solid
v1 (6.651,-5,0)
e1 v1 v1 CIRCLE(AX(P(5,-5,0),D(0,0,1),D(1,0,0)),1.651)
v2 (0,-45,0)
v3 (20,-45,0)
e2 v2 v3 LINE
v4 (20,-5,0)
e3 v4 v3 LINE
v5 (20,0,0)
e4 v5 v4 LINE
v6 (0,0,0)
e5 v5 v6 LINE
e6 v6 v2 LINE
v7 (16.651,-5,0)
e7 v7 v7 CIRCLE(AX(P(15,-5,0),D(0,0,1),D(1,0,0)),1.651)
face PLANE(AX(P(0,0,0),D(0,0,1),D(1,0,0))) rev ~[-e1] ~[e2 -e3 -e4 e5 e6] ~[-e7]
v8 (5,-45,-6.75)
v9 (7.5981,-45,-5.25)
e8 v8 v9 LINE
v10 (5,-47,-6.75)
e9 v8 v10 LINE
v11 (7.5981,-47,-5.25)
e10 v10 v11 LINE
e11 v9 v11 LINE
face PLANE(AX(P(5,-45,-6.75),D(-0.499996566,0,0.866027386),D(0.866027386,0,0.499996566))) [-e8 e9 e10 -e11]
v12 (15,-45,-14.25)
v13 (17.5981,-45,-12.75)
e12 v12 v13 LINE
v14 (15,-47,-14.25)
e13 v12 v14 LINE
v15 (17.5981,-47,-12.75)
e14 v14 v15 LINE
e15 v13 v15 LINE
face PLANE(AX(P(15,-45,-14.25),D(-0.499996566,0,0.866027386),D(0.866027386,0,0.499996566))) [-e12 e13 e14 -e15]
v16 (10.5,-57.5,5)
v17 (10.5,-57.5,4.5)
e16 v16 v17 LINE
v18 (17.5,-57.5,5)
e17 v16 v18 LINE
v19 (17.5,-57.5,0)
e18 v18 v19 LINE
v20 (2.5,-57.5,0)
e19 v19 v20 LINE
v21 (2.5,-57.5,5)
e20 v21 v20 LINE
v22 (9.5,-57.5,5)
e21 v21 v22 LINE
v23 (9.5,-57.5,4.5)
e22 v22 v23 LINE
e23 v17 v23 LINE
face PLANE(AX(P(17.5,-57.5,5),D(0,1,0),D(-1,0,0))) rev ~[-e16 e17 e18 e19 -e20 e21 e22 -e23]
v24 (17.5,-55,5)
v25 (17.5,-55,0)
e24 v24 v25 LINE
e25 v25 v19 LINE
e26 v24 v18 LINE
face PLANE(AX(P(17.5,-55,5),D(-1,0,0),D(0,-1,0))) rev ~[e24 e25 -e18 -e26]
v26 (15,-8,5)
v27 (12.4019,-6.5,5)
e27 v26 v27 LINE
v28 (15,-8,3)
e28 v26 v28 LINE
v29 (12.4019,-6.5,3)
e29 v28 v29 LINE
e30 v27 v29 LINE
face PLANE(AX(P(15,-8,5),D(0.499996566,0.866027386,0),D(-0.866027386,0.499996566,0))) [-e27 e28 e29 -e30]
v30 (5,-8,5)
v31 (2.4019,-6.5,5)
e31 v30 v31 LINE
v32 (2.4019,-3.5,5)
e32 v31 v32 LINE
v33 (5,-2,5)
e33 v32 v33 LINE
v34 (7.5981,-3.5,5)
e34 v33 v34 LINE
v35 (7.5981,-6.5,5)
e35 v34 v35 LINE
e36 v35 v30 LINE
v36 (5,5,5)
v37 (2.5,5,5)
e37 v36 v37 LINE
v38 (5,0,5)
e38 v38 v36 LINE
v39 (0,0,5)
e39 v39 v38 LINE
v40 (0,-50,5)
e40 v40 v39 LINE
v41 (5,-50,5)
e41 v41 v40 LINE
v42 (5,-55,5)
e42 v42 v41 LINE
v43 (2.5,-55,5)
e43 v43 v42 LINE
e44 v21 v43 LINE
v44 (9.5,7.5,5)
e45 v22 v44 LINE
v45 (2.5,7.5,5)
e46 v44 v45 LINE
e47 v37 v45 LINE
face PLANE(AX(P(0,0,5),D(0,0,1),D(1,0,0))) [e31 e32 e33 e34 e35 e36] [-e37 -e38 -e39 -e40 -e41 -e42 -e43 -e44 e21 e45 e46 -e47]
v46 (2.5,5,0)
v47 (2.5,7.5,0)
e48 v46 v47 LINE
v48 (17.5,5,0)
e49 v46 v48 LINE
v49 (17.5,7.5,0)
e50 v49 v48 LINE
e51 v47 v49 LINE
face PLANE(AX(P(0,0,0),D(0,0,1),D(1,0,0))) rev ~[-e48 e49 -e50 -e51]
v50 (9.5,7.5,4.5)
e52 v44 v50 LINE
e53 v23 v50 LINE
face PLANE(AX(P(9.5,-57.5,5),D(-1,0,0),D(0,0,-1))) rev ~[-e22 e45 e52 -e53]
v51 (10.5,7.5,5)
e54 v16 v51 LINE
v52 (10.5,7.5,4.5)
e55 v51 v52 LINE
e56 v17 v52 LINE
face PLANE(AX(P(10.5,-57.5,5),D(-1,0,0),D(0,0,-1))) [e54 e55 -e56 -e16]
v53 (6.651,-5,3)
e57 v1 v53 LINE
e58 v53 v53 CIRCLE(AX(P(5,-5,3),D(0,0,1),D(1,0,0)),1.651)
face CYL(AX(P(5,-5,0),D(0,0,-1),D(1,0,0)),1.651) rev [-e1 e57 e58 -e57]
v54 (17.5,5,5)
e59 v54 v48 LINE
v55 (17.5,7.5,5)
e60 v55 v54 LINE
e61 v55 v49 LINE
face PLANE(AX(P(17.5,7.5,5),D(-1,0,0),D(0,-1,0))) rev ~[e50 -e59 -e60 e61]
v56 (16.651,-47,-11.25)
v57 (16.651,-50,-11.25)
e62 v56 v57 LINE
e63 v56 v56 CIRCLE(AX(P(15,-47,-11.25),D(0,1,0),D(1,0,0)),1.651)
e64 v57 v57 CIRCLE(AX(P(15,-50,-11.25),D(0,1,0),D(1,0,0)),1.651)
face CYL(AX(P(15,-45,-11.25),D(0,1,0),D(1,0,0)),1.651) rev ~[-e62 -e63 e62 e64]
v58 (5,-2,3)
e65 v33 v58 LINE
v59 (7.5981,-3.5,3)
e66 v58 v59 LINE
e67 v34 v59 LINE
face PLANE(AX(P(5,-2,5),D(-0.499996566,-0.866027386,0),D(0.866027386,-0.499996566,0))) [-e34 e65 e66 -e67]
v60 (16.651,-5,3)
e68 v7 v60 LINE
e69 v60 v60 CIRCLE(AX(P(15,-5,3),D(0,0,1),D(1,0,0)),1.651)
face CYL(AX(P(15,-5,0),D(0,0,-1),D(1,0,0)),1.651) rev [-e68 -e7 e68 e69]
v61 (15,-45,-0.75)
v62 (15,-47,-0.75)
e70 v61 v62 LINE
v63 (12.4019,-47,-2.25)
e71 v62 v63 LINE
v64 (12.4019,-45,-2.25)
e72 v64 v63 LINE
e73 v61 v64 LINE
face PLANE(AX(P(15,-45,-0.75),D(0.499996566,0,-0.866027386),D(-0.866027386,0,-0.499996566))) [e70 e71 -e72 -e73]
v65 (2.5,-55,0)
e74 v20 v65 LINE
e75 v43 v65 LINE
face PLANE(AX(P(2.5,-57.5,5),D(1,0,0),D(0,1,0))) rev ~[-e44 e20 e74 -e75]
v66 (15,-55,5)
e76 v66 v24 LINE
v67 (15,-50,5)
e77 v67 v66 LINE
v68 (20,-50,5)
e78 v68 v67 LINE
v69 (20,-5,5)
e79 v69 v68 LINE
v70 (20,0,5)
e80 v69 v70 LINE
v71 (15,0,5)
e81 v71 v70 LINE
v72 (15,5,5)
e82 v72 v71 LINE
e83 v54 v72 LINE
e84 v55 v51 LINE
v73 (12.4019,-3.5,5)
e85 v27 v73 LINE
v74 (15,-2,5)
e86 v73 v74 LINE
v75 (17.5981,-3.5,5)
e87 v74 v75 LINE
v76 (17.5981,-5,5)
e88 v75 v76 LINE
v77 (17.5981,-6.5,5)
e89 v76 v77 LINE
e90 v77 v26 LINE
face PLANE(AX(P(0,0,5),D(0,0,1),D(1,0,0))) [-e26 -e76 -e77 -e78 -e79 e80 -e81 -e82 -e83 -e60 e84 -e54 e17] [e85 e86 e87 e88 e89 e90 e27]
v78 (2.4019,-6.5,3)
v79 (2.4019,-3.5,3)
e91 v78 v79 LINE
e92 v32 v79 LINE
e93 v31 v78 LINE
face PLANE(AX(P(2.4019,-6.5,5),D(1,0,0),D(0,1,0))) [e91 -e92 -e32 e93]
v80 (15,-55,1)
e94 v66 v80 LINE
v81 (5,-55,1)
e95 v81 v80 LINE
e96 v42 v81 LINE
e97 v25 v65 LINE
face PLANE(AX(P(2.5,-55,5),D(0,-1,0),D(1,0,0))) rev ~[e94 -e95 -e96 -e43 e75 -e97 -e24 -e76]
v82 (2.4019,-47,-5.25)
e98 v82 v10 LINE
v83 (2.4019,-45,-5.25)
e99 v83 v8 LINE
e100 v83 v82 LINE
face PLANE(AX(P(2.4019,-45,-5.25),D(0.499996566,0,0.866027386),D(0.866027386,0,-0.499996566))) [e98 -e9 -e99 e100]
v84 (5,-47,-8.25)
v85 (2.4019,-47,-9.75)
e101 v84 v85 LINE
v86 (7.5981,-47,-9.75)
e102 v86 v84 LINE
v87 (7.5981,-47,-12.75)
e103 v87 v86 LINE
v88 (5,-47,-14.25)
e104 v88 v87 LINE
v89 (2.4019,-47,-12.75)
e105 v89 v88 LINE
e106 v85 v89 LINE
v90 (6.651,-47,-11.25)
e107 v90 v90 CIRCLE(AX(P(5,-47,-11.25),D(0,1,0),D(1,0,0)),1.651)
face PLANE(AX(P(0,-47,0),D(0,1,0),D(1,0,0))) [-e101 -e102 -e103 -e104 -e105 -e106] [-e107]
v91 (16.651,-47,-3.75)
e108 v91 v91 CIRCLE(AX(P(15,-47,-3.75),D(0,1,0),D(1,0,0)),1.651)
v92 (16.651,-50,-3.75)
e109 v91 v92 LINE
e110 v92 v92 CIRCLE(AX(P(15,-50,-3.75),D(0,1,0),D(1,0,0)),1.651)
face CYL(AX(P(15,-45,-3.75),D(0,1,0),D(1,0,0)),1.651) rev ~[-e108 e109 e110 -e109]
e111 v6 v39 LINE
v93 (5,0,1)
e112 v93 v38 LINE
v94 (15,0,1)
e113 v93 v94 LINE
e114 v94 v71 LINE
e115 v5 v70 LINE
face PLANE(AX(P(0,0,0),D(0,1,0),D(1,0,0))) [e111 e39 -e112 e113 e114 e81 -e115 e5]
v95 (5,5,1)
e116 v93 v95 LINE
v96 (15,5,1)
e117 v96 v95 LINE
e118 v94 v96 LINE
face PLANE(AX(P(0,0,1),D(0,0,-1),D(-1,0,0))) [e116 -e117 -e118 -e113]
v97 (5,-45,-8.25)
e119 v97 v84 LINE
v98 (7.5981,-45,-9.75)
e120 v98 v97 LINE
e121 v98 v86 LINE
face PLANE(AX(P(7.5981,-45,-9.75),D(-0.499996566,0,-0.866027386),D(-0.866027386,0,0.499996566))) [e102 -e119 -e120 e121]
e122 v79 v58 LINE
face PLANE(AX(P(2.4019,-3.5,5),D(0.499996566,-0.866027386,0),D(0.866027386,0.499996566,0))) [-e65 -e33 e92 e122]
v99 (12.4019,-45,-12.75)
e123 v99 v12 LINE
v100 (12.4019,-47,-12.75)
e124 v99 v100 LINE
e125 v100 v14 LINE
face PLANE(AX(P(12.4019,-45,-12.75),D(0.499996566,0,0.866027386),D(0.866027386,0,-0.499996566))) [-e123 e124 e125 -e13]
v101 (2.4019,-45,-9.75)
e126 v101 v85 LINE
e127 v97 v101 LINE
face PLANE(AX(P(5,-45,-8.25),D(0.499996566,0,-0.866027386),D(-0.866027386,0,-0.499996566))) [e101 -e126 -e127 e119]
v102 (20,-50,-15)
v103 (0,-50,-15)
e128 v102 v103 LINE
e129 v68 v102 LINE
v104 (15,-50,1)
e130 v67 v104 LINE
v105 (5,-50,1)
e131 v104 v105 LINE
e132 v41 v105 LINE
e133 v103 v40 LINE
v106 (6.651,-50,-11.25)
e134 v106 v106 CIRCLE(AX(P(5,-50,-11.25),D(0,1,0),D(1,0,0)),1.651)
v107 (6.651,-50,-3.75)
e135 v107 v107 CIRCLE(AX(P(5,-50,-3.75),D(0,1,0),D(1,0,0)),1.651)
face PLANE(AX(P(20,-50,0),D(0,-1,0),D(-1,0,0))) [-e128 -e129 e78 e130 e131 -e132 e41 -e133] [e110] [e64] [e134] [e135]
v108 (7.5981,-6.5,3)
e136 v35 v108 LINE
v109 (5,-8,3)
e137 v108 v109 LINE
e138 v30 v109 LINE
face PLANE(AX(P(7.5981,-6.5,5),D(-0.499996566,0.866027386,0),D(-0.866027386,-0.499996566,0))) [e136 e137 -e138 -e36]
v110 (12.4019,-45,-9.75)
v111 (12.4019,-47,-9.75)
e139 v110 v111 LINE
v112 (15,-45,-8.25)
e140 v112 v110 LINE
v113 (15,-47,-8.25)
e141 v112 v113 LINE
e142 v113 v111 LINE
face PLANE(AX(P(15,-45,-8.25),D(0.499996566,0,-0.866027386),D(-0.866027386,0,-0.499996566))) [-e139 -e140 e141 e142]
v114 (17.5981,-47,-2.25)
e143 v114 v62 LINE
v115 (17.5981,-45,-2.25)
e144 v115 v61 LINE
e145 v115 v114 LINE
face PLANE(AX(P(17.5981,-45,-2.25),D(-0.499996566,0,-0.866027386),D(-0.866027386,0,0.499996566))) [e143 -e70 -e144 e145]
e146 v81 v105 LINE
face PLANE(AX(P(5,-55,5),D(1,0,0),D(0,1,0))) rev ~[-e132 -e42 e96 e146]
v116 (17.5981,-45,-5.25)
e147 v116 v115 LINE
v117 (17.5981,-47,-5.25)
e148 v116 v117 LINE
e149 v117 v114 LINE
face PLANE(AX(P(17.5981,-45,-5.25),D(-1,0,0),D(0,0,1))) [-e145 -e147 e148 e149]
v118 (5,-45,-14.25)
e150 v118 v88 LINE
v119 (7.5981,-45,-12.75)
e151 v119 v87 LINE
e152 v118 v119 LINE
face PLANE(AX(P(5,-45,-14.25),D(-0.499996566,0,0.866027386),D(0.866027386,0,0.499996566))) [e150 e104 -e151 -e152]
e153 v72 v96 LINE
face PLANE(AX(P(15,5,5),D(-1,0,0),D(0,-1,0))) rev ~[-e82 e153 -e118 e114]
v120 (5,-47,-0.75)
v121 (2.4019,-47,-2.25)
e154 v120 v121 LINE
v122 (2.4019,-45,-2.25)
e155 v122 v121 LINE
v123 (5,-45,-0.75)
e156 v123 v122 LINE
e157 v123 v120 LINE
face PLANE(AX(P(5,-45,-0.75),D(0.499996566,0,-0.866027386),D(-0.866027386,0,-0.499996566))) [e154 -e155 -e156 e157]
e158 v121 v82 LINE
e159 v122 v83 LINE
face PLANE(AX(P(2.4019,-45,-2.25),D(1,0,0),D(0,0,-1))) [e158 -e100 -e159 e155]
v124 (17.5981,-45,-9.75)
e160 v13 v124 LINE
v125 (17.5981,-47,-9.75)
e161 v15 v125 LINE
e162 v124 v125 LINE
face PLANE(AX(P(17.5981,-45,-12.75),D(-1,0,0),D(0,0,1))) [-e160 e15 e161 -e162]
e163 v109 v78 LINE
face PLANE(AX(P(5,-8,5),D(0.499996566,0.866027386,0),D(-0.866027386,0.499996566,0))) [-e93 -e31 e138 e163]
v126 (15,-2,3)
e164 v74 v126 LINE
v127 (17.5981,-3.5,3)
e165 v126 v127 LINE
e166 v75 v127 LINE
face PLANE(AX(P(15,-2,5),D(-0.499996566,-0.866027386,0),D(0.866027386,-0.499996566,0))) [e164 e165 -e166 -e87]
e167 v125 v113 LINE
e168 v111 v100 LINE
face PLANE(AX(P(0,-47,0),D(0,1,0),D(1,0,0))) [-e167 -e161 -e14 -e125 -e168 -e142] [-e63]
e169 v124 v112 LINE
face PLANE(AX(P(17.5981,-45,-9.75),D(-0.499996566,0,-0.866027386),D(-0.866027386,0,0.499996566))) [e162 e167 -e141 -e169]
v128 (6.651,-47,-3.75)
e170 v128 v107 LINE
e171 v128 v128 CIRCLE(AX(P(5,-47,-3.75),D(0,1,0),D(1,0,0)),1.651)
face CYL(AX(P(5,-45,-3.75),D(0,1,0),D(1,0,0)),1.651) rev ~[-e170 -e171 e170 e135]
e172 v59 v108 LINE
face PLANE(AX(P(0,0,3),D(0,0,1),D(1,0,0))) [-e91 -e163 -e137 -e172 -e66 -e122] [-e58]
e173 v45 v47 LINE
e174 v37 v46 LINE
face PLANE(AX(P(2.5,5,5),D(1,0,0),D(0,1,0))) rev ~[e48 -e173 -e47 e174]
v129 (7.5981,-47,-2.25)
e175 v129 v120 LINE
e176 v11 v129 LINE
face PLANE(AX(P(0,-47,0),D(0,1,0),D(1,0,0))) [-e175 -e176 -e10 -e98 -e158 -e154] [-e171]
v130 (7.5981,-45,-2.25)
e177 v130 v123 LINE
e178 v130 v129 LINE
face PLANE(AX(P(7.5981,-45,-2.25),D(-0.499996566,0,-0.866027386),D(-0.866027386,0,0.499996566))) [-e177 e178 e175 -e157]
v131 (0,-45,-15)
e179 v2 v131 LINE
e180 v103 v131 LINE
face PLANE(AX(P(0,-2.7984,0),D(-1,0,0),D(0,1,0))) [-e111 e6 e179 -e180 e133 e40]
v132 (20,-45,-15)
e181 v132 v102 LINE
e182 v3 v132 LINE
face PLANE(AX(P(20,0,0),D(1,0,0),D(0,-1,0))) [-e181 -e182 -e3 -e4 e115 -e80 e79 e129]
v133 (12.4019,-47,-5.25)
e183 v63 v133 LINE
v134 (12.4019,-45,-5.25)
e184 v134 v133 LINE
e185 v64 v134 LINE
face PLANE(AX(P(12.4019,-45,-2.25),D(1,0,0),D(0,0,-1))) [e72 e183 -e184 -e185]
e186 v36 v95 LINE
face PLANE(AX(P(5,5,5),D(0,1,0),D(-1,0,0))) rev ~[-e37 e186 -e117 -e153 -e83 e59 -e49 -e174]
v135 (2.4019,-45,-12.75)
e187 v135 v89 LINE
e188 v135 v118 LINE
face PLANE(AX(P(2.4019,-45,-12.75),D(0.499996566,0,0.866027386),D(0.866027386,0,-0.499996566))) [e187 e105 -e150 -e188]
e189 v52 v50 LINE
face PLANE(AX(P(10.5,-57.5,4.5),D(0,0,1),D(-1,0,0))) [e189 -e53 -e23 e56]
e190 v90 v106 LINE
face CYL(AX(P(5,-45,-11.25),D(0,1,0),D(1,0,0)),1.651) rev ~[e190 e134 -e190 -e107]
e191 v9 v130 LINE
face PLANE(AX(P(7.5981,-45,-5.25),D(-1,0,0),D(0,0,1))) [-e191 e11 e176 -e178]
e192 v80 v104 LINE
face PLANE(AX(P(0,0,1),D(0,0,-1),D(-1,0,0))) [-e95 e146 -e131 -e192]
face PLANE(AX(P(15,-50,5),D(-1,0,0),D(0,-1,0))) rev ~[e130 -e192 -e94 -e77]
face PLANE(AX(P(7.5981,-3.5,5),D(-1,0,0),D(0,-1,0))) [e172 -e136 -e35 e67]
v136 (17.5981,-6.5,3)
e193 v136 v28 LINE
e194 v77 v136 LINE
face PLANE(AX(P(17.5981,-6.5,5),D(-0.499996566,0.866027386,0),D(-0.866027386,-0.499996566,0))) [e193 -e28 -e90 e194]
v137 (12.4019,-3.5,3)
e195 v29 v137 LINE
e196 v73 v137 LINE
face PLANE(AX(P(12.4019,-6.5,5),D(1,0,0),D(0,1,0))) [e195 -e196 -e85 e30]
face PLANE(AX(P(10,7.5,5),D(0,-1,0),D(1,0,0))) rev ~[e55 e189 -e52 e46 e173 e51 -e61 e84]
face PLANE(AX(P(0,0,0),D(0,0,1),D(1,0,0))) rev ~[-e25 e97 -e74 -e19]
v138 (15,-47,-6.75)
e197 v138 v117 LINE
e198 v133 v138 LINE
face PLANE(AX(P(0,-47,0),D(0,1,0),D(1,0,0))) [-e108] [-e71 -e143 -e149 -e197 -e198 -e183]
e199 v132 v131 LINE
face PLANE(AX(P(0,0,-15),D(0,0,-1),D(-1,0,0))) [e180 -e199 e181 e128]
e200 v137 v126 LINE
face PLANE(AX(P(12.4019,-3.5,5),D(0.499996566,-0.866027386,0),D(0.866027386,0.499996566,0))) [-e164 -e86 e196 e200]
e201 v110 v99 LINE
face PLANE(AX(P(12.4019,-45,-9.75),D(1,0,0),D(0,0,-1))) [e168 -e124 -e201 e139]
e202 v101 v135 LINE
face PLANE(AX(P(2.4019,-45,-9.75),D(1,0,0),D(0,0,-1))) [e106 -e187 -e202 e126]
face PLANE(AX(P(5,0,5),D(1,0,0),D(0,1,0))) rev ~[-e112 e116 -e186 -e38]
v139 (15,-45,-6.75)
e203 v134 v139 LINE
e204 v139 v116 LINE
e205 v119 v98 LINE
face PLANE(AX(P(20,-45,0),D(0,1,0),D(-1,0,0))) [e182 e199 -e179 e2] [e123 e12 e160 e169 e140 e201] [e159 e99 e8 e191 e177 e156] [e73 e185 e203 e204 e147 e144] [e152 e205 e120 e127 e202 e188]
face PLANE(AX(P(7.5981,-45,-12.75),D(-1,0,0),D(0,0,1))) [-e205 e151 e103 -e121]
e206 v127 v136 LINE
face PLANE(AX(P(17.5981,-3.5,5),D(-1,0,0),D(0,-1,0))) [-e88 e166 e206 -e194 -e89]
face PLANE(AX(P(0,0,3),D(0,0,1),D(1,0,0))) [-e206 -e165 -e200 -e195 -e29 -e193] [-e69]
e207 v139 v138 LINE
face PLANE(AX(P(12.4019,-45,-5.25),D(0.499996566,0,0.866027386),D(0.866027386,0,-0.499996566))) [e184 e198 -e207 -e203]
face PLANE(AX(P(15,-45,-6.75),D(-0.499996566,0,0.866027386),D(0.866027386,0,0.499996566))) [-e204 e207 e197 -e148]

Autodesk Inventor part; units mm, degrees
ref_plane "YZ Plane" through (0, 0, 0) normal (1, 0, 0) x (0, 1, 0)
ref_plane "XZ Plane" through (0, 0, 0) normal (0, 1, 0) x (-1, 0, 0)
ref_plane "XY Plane" through (0, 0, 0) normal (0, 0, 1) x (1, 0, 0)
sketch "Sketch1" plane through (0, 0, 0) normal (0, 0, 1) x (1, 0, 0)
  line L0 (0, 0) -> (20, 0)
  line L1 (20, 0) -> (20, -2.7984)
  line L2 (0, -2.7984) -> (0, 0)
  line L3 (0, 0) -> (20, 0)
  line L4 (20, 0) -> (20, -50)
  line L5 (20, -50) -> (0, -50)
  line L6 (0, -50) -> (0, 0)
  line L7 (0, 0) -> (5, 0)
  line L8 (0, -5) -> (0, 0)
  circle A0 centre (5, -5) radius 1.651
  line L9 (20, 0) -> (15, 0)
  line L10 (15, -5) -> (20, -5)
  line L11 (20, -5) -> (20, 0)
  circle A1 centre (15, -5) radius 1.651
  dimension "d1" = 20
  dimension "d2" = 50
  dimension "d6" = 5
  dimension "d7" = 5
  dimension "d9" = 3.302
extrude "Extrusion1" add sketch "Sketch1" along normal blind 5
sketch "Sketch2" plane through (0, 0, 5) normal (0, 0, 1) x (1, 0, 0)
  line L0 (20, 0) -> (0, 0) projected
  line L1 (10, 0) -> (5, 0)
  line L2 (5, 0) -> (5, 5)
  line L3 (5, 5) -> (10, 5)
  line L4 (10, 5) -> (10, 0)
  line L5 (10, 5) -> (2.5, 5)
  line L6 (2.5, 5) -> (2.5, 7.5)
  line L7 (2.5, 7.5) -> (10, 7.5)
  line L8 (10, 7.5) -> (10, 5)
  line L9 (2.5, 7.5) -> (17.5, 7.5)
  line L10 (17.5, 7.5) -> (17.5, 5)
  line L11 (17.5, 5) -> (2.5, 5)
  line L12 (2.5, 5) -> (2.5, 7.5)
  line L13 (10, 5) -> (15, 5)
  line L14 (15, 5) -> (15, 0)
  line L15 (15, 0) -> (10, 0)
  line L16 (10, 0) -> (10, 5)
  dimension "d12" = 5
  dimension "d13" = 5
  dimension "d14" = 7.5
  dimension "d15" = 2.5
  dimension "d16" = 15
  dimension "d17" = 2.5
  dimension "d18" = 5
  dimension "d19" = 5
extrude "Extrusion2" add sketch "Sketch2" against normal blind 5
sketch "Sketch3" plane through (0, 0, 0) normal (0, 0, -1) x (-1, 0, 0)
  line L0 (-5, 0) -> (-5, 5) projected
  line L1 (-5, 0) -> (-15, 0)
  line L2 (-15, 0) -> (-15, 5)
  line L3 (-15, 5) -> (-5, 5)
  line L4 (-5, 5) -> (-5, 0)
  point P0 (0, 0)
extrude "Extrusion3" cut sketch "Sketch3" against normal blind 1
sketch "Sketch4" plane through (0, 0, 0) normal (0, 0, -1) x (-1, 0, 0)
  line L0 (-5, 0) -> (0, 0) projected
  line L1 (-20, -50) -> (0, -50) projected
  line L2 (0, 0) -> (-20, 0)
  line L3 (-20, 0) -> (-20, -50)
  line L4 (-20, -50) -> (0, -50)
  line L5 (0, -50) -> (0, 0)
  line L6 (0, -50) -> (-5, -50)
  line L7 (-5, -50) -> (-5, -30)
  line L8 (-5, -30) -> (0, -30)
  line L9 (0, -30) -> (0, -50)
  line L10 (0, -50) -> (0, 0) projected
  line L11 (0, -50) -> (-5, -50)
  line L12 (-5, -50) -> (-5, -30)
  line L13 (-5, -30) -> (0, -30)
  line L14 (0, -30) -> (0, -50)
  line L15 (0, -50) -> (-20, -50)
  line L16 (-20, -50) -> (-20, -45)
  line L17 (-20, -45) -> (0, -45)
  line L18 (0, -45) -> (0, -50)
  dimension "d28" = 5
  dimension "d29" = 20
  dimension "d30" = 5
  dimension "d31" = 20
  dimension "d32" = 20
  dimension "d33" = 5
extrude "Extrusion4" add sketch "Sketch4" along normal blind 15 contours L17 L7 L1 L3 | L5 L1 L7 L17
sketch "Sketch5" plane through (0, 0, 5) normal (0, 0, 1) x (1, 0, 0)
  line L0 (20, -50) -> (20, 0) projected
  line L1 (20, 0) -> (0, 0)
  line L2 (0, 0) -> (0, -50)
  line L3 (0, -50) -> (20, -50)
  line L4 (20, -50) -> (20, 0)
  line L5 (10, -50) -> (15, -50)
  line L6 (15, -50) -> (15, -55)
  line L7 (15, -55) -> (10, -55)
  line L8 (10, -55) -> (10, -50)
  line L9 (15, -55) -> (5, -55)
  line L10 (5, -55) -> (5, -50)
  line L11 (5, -50) -> (15, -50)
  line L12 (15, -50) -> (15, -55)
  line L13 (10, -55) -> (17.5, -55)
  line L14 (17.5, -55) -> (17.5, -57.5)
  line L15 (17.5, -57.5) -> (10, -57.5)
  line L16 (10, -57.5) -> (10, -55)
  line L17 (17.5, -57.5) -> (2.5, -57.5)
  line L18 (2.5, -57.5) -> (2.5, -55)
  line L19 (2.5, -55) -> (17.5, -55)
  line L20 (17.5, -55) -> (17.5, -57.5)
  dimension "d36" = 5
  dimension "d37" = 5
  dimension "d38" = 10
  dimension "d39" = 5
  dimension "d40" = 7.5
  dimension "d41" = 2.5
  dimension "d42" = 15
  dimension "d43" = 2.5
extrude "Extrusion5" add sketch "Sketch5" against normal blind 5 contours L6 L7 L8 L3 | L8 L9 L10 L3 | L13 L14 L15 L16 L7 | L16 L17 L18 L19 L9
sketch "Sketch6" plane through (0, 0, 0) normal (0, 0, -1) x (-1, 0, 0)
  line L0 (-5, -55) -> (-5, -50) projected
  line L1 (-15, -50) -> (-5, -50) projected
  line L2 (-5, -55) -> (-15, -55)
  line L3 (-15, -55) -> (-15, -50)
  line L4 (-15, -50) -> (-5, -50)
  line L5 (-5, -50) -> (-5, -55)
  point P0 (0, 0)
extrude "Extrusion6" cut sketch "Sketch6" against normal blind 1
sketch "Sketch8" plane through (0, -45, 0) normal (0, 1, 0) x (1, 0, 0)
  line L0 (0, 15) -> (20, 15) projected
  line L1 (0, 15) -> (20, 15)
  line L2 (20, 15) -> (20, 0)
  line L3 (20, 0) -> (0, 0)
  line L4 (0, 0) -> (0, 15)
  line L5 (0, 0) -> (0, 15) projected
  line L6 (0, 7.5) -> (20, 7.5)
  line L7 (20, 0) -> (20, 15) projected
  line L8 (20, 0) -> (0, 15)
  line L9 (20, 15) -> (0, 0)
  line L10 (10, 7.5) -> (10, 15)
  line L11 (10, 7.5) -> (10, 0)
  line L12 (10, 7.5) -> (0, 0)
  line L13 (10, 7.5) -> (20, 0)
  line L14 (10, 7.5) -> (0, 15)
  line L15 (10, 7.5) -> (20, 15)
  circle A0 centre (5, 3.75) radius 1.651
  circle A1 centre (15, 3.75) radius 1.651
  circle A2 centre (15, 11.25) radius 1.651
  circle A3 centre (5, 11.25) radius 1.651
  dimension "d48" = 3.302
  dimension "d49" = 3.302
  dimension "d50" = 3.302
  dimension "d51" = 3.302
extrude "Extrusion7" cut sketch "Sketch8" against normal blind 5 contours A3 L8 | L8 A3 | A2 L9 | L9 A2 | A1 L8 | L8 A1 | A0 L9 | L9 A0
sketch "Sketch9" plane through (2.5, -57.5, 5) normal (0, -1, 0) x (1, 0, 0)
  line L0 (15, 0) -> (0, 0) projected
  line L1 (7.5, 0) -> (8, 0)
  line L2 (8, 0) -> (8, -0.5)
  line L3 (8, -0.5) -> (7.5, -0.5)
  line L4 (7.5, -0.5) -> (7.5, 0)
  line L5 (7.5, 0) -> (7, 0)
  line L6 (7, 0) -> (7, -0.5)
  line L7 (7, -0.5) -> (7.5, -0.5)
  line L8 (7.5, -0.5) -> (7.5, 0)
  point P0 (-2.5, -5)
  dimension "d54" = 0.5
  dimension "d55" = 0.5
  dimension "d56" = 0.5
  dimension "d57" = 0.5
extrude "Extrusion8" cut sketch "Sketch9" against normal blind 500
sketch "Sketch10" plane through (0, -45, 0) normal (0, 1, 0) x (1, 0, 0)
  circle A0 centre (5, 11.25) radius 1.651 projected
  circle A1 centre (5, 11.25) radius 1.651
  circle A2 centre (5, 3.75) radius 1.651 projected
  circle A3 centre (5, 3.75) radius 1.651
  circle A4 centre (15, 11.25) radius 1.651 projected
  circle A5 centre (15, 11.25) radius 1.651
  circle A6 centre (15, 3.75) radius 1.651 projected
  circle A7 centre (15, 3.75) radius 1.651
  circle A8 centre (5, 11.25) radius 3
  circle A9 centre (15, 11.25) radius 3
  circle A10 centre (5, 3.75) radius 3
  circle A11 centre (15, 3.75) radius 3
  line L0 (5, 14.25) -> (7.5981, 12.75)
  line L1 (7.5981, 12.75) -> (7.5981, 9.75)
  line L2 (7.5981, 9.75) -> (5, 8.25)
  line L3 (5, 8.25) -> (2.4019, 9.75)
  line L4 (2.4019, 9.75) -> (2.4019, 12.75)
  line L5 (2.4019, 12.75) -> (5, 14.25)
  line L6 (15, 14.25) -> (17.5981, 12.75)
  line L7 (17.5981, 12.75) -> (17.5981, 9.75)
  line L8 (17.5981, 9.75) -> (15, 8.25)
  line L9 (15, 8.25) -> (12.4019, 9.75)
  line L10 (12.4019, 9.75) -> (12.4019, 12.75)
  line L11 (12.4019, 12.75) -> (15, 14.25)
  line L12 (5, 6.75) -> (7.5981, 5.25)
  line L13 (7.5981, 5.25) -> (7.5981, 2.25)
  line L14 (7.5981, 2.25) -> (5, 0.75)
  line L15 (5, 0.75) -> (2.4019, 2.25)
  line L16 (2.4019, 2.25) -> (2.4019, 5.25)
  line L17 (2.4019, 5.25) -> (5, 6.75)
  line L18 (15, 6.75) -> (17.5981, 5.25)
  line L19 (17.5981, 5.25) -> (17.5981, 2.25)
  line L20 (17.5981, 2.25) -> (15, 0.75)
  line L21 (15, 0.75) -> (12.4019, 2.25)
  line L22 (12.4019, 2.25) -> (12.4019, 5.25)
  line L23 (12.4019, 5.25) -> (15, 6.75)
  point P0 (0, 0)
  dimension "d60" = 6
  dimension "d61" = 6
  dimension "d62" = 6
  dimension "d63" = 6
extrude "Extrusion9" cut sketch "Sketch10" against normal blind 2 contours L1 L2 L3 L4 L5 L0 | L7 L8 L9 L10 L11 L6 | L13 L14 L15 L16 L17 L12 | L19 L20 L21 L22 L23 L18
sketch "Sketch11" plane through (0, 0, 5) normal (0, 0, 1) x (1, 0, 0)
  circle A0 centre (5, -5) radius 1.651 projected
  circle A1 centre (5, -5) radius 3
  circle A2 centre (15, -5) radius 1.651 projected
  circle A3 centre (15, -5) radius 3
  line L0 (5, -2) -> (7.5981, -3.5)
  line L1 (7.5981, -3.5) -> (7.5981, -6.5)
  line L2 (7.5981, -6.5) -> (5, -8)
  line L3 (5, -8) -> (2.4019, -6.5)
  line L4 (2.4019, -6.5) -> (2.4019, -3.5)
  line L5 (2.4019, -3.5) -> (5, -2)
  line L6 (15, -2) -> (17.5981, -3.5)
  line L7 (17.5981, -3.5) -> (17.5981, -6.5)
  line L8 (17.5981, -6.5) -> (15, -8)
  line L9 (15, -8) -> (12.4019, -6.5)
  line L10 (12.4019, -6.5) -> (12.4019, -3.5)
  line L11 (12.4019, -3.5) -> (15, -2)
  point P0 (0, 0)
  dimension "d66" = 6
  dimension "d67" = 6
extrude "Extrusion10" cut sketch "Sketch11" against normal blind 2 contours L1 L2 L3 L4 L5 L0 | L7 L8 L9 L10 L11 L6
properties part number "Attachment"
